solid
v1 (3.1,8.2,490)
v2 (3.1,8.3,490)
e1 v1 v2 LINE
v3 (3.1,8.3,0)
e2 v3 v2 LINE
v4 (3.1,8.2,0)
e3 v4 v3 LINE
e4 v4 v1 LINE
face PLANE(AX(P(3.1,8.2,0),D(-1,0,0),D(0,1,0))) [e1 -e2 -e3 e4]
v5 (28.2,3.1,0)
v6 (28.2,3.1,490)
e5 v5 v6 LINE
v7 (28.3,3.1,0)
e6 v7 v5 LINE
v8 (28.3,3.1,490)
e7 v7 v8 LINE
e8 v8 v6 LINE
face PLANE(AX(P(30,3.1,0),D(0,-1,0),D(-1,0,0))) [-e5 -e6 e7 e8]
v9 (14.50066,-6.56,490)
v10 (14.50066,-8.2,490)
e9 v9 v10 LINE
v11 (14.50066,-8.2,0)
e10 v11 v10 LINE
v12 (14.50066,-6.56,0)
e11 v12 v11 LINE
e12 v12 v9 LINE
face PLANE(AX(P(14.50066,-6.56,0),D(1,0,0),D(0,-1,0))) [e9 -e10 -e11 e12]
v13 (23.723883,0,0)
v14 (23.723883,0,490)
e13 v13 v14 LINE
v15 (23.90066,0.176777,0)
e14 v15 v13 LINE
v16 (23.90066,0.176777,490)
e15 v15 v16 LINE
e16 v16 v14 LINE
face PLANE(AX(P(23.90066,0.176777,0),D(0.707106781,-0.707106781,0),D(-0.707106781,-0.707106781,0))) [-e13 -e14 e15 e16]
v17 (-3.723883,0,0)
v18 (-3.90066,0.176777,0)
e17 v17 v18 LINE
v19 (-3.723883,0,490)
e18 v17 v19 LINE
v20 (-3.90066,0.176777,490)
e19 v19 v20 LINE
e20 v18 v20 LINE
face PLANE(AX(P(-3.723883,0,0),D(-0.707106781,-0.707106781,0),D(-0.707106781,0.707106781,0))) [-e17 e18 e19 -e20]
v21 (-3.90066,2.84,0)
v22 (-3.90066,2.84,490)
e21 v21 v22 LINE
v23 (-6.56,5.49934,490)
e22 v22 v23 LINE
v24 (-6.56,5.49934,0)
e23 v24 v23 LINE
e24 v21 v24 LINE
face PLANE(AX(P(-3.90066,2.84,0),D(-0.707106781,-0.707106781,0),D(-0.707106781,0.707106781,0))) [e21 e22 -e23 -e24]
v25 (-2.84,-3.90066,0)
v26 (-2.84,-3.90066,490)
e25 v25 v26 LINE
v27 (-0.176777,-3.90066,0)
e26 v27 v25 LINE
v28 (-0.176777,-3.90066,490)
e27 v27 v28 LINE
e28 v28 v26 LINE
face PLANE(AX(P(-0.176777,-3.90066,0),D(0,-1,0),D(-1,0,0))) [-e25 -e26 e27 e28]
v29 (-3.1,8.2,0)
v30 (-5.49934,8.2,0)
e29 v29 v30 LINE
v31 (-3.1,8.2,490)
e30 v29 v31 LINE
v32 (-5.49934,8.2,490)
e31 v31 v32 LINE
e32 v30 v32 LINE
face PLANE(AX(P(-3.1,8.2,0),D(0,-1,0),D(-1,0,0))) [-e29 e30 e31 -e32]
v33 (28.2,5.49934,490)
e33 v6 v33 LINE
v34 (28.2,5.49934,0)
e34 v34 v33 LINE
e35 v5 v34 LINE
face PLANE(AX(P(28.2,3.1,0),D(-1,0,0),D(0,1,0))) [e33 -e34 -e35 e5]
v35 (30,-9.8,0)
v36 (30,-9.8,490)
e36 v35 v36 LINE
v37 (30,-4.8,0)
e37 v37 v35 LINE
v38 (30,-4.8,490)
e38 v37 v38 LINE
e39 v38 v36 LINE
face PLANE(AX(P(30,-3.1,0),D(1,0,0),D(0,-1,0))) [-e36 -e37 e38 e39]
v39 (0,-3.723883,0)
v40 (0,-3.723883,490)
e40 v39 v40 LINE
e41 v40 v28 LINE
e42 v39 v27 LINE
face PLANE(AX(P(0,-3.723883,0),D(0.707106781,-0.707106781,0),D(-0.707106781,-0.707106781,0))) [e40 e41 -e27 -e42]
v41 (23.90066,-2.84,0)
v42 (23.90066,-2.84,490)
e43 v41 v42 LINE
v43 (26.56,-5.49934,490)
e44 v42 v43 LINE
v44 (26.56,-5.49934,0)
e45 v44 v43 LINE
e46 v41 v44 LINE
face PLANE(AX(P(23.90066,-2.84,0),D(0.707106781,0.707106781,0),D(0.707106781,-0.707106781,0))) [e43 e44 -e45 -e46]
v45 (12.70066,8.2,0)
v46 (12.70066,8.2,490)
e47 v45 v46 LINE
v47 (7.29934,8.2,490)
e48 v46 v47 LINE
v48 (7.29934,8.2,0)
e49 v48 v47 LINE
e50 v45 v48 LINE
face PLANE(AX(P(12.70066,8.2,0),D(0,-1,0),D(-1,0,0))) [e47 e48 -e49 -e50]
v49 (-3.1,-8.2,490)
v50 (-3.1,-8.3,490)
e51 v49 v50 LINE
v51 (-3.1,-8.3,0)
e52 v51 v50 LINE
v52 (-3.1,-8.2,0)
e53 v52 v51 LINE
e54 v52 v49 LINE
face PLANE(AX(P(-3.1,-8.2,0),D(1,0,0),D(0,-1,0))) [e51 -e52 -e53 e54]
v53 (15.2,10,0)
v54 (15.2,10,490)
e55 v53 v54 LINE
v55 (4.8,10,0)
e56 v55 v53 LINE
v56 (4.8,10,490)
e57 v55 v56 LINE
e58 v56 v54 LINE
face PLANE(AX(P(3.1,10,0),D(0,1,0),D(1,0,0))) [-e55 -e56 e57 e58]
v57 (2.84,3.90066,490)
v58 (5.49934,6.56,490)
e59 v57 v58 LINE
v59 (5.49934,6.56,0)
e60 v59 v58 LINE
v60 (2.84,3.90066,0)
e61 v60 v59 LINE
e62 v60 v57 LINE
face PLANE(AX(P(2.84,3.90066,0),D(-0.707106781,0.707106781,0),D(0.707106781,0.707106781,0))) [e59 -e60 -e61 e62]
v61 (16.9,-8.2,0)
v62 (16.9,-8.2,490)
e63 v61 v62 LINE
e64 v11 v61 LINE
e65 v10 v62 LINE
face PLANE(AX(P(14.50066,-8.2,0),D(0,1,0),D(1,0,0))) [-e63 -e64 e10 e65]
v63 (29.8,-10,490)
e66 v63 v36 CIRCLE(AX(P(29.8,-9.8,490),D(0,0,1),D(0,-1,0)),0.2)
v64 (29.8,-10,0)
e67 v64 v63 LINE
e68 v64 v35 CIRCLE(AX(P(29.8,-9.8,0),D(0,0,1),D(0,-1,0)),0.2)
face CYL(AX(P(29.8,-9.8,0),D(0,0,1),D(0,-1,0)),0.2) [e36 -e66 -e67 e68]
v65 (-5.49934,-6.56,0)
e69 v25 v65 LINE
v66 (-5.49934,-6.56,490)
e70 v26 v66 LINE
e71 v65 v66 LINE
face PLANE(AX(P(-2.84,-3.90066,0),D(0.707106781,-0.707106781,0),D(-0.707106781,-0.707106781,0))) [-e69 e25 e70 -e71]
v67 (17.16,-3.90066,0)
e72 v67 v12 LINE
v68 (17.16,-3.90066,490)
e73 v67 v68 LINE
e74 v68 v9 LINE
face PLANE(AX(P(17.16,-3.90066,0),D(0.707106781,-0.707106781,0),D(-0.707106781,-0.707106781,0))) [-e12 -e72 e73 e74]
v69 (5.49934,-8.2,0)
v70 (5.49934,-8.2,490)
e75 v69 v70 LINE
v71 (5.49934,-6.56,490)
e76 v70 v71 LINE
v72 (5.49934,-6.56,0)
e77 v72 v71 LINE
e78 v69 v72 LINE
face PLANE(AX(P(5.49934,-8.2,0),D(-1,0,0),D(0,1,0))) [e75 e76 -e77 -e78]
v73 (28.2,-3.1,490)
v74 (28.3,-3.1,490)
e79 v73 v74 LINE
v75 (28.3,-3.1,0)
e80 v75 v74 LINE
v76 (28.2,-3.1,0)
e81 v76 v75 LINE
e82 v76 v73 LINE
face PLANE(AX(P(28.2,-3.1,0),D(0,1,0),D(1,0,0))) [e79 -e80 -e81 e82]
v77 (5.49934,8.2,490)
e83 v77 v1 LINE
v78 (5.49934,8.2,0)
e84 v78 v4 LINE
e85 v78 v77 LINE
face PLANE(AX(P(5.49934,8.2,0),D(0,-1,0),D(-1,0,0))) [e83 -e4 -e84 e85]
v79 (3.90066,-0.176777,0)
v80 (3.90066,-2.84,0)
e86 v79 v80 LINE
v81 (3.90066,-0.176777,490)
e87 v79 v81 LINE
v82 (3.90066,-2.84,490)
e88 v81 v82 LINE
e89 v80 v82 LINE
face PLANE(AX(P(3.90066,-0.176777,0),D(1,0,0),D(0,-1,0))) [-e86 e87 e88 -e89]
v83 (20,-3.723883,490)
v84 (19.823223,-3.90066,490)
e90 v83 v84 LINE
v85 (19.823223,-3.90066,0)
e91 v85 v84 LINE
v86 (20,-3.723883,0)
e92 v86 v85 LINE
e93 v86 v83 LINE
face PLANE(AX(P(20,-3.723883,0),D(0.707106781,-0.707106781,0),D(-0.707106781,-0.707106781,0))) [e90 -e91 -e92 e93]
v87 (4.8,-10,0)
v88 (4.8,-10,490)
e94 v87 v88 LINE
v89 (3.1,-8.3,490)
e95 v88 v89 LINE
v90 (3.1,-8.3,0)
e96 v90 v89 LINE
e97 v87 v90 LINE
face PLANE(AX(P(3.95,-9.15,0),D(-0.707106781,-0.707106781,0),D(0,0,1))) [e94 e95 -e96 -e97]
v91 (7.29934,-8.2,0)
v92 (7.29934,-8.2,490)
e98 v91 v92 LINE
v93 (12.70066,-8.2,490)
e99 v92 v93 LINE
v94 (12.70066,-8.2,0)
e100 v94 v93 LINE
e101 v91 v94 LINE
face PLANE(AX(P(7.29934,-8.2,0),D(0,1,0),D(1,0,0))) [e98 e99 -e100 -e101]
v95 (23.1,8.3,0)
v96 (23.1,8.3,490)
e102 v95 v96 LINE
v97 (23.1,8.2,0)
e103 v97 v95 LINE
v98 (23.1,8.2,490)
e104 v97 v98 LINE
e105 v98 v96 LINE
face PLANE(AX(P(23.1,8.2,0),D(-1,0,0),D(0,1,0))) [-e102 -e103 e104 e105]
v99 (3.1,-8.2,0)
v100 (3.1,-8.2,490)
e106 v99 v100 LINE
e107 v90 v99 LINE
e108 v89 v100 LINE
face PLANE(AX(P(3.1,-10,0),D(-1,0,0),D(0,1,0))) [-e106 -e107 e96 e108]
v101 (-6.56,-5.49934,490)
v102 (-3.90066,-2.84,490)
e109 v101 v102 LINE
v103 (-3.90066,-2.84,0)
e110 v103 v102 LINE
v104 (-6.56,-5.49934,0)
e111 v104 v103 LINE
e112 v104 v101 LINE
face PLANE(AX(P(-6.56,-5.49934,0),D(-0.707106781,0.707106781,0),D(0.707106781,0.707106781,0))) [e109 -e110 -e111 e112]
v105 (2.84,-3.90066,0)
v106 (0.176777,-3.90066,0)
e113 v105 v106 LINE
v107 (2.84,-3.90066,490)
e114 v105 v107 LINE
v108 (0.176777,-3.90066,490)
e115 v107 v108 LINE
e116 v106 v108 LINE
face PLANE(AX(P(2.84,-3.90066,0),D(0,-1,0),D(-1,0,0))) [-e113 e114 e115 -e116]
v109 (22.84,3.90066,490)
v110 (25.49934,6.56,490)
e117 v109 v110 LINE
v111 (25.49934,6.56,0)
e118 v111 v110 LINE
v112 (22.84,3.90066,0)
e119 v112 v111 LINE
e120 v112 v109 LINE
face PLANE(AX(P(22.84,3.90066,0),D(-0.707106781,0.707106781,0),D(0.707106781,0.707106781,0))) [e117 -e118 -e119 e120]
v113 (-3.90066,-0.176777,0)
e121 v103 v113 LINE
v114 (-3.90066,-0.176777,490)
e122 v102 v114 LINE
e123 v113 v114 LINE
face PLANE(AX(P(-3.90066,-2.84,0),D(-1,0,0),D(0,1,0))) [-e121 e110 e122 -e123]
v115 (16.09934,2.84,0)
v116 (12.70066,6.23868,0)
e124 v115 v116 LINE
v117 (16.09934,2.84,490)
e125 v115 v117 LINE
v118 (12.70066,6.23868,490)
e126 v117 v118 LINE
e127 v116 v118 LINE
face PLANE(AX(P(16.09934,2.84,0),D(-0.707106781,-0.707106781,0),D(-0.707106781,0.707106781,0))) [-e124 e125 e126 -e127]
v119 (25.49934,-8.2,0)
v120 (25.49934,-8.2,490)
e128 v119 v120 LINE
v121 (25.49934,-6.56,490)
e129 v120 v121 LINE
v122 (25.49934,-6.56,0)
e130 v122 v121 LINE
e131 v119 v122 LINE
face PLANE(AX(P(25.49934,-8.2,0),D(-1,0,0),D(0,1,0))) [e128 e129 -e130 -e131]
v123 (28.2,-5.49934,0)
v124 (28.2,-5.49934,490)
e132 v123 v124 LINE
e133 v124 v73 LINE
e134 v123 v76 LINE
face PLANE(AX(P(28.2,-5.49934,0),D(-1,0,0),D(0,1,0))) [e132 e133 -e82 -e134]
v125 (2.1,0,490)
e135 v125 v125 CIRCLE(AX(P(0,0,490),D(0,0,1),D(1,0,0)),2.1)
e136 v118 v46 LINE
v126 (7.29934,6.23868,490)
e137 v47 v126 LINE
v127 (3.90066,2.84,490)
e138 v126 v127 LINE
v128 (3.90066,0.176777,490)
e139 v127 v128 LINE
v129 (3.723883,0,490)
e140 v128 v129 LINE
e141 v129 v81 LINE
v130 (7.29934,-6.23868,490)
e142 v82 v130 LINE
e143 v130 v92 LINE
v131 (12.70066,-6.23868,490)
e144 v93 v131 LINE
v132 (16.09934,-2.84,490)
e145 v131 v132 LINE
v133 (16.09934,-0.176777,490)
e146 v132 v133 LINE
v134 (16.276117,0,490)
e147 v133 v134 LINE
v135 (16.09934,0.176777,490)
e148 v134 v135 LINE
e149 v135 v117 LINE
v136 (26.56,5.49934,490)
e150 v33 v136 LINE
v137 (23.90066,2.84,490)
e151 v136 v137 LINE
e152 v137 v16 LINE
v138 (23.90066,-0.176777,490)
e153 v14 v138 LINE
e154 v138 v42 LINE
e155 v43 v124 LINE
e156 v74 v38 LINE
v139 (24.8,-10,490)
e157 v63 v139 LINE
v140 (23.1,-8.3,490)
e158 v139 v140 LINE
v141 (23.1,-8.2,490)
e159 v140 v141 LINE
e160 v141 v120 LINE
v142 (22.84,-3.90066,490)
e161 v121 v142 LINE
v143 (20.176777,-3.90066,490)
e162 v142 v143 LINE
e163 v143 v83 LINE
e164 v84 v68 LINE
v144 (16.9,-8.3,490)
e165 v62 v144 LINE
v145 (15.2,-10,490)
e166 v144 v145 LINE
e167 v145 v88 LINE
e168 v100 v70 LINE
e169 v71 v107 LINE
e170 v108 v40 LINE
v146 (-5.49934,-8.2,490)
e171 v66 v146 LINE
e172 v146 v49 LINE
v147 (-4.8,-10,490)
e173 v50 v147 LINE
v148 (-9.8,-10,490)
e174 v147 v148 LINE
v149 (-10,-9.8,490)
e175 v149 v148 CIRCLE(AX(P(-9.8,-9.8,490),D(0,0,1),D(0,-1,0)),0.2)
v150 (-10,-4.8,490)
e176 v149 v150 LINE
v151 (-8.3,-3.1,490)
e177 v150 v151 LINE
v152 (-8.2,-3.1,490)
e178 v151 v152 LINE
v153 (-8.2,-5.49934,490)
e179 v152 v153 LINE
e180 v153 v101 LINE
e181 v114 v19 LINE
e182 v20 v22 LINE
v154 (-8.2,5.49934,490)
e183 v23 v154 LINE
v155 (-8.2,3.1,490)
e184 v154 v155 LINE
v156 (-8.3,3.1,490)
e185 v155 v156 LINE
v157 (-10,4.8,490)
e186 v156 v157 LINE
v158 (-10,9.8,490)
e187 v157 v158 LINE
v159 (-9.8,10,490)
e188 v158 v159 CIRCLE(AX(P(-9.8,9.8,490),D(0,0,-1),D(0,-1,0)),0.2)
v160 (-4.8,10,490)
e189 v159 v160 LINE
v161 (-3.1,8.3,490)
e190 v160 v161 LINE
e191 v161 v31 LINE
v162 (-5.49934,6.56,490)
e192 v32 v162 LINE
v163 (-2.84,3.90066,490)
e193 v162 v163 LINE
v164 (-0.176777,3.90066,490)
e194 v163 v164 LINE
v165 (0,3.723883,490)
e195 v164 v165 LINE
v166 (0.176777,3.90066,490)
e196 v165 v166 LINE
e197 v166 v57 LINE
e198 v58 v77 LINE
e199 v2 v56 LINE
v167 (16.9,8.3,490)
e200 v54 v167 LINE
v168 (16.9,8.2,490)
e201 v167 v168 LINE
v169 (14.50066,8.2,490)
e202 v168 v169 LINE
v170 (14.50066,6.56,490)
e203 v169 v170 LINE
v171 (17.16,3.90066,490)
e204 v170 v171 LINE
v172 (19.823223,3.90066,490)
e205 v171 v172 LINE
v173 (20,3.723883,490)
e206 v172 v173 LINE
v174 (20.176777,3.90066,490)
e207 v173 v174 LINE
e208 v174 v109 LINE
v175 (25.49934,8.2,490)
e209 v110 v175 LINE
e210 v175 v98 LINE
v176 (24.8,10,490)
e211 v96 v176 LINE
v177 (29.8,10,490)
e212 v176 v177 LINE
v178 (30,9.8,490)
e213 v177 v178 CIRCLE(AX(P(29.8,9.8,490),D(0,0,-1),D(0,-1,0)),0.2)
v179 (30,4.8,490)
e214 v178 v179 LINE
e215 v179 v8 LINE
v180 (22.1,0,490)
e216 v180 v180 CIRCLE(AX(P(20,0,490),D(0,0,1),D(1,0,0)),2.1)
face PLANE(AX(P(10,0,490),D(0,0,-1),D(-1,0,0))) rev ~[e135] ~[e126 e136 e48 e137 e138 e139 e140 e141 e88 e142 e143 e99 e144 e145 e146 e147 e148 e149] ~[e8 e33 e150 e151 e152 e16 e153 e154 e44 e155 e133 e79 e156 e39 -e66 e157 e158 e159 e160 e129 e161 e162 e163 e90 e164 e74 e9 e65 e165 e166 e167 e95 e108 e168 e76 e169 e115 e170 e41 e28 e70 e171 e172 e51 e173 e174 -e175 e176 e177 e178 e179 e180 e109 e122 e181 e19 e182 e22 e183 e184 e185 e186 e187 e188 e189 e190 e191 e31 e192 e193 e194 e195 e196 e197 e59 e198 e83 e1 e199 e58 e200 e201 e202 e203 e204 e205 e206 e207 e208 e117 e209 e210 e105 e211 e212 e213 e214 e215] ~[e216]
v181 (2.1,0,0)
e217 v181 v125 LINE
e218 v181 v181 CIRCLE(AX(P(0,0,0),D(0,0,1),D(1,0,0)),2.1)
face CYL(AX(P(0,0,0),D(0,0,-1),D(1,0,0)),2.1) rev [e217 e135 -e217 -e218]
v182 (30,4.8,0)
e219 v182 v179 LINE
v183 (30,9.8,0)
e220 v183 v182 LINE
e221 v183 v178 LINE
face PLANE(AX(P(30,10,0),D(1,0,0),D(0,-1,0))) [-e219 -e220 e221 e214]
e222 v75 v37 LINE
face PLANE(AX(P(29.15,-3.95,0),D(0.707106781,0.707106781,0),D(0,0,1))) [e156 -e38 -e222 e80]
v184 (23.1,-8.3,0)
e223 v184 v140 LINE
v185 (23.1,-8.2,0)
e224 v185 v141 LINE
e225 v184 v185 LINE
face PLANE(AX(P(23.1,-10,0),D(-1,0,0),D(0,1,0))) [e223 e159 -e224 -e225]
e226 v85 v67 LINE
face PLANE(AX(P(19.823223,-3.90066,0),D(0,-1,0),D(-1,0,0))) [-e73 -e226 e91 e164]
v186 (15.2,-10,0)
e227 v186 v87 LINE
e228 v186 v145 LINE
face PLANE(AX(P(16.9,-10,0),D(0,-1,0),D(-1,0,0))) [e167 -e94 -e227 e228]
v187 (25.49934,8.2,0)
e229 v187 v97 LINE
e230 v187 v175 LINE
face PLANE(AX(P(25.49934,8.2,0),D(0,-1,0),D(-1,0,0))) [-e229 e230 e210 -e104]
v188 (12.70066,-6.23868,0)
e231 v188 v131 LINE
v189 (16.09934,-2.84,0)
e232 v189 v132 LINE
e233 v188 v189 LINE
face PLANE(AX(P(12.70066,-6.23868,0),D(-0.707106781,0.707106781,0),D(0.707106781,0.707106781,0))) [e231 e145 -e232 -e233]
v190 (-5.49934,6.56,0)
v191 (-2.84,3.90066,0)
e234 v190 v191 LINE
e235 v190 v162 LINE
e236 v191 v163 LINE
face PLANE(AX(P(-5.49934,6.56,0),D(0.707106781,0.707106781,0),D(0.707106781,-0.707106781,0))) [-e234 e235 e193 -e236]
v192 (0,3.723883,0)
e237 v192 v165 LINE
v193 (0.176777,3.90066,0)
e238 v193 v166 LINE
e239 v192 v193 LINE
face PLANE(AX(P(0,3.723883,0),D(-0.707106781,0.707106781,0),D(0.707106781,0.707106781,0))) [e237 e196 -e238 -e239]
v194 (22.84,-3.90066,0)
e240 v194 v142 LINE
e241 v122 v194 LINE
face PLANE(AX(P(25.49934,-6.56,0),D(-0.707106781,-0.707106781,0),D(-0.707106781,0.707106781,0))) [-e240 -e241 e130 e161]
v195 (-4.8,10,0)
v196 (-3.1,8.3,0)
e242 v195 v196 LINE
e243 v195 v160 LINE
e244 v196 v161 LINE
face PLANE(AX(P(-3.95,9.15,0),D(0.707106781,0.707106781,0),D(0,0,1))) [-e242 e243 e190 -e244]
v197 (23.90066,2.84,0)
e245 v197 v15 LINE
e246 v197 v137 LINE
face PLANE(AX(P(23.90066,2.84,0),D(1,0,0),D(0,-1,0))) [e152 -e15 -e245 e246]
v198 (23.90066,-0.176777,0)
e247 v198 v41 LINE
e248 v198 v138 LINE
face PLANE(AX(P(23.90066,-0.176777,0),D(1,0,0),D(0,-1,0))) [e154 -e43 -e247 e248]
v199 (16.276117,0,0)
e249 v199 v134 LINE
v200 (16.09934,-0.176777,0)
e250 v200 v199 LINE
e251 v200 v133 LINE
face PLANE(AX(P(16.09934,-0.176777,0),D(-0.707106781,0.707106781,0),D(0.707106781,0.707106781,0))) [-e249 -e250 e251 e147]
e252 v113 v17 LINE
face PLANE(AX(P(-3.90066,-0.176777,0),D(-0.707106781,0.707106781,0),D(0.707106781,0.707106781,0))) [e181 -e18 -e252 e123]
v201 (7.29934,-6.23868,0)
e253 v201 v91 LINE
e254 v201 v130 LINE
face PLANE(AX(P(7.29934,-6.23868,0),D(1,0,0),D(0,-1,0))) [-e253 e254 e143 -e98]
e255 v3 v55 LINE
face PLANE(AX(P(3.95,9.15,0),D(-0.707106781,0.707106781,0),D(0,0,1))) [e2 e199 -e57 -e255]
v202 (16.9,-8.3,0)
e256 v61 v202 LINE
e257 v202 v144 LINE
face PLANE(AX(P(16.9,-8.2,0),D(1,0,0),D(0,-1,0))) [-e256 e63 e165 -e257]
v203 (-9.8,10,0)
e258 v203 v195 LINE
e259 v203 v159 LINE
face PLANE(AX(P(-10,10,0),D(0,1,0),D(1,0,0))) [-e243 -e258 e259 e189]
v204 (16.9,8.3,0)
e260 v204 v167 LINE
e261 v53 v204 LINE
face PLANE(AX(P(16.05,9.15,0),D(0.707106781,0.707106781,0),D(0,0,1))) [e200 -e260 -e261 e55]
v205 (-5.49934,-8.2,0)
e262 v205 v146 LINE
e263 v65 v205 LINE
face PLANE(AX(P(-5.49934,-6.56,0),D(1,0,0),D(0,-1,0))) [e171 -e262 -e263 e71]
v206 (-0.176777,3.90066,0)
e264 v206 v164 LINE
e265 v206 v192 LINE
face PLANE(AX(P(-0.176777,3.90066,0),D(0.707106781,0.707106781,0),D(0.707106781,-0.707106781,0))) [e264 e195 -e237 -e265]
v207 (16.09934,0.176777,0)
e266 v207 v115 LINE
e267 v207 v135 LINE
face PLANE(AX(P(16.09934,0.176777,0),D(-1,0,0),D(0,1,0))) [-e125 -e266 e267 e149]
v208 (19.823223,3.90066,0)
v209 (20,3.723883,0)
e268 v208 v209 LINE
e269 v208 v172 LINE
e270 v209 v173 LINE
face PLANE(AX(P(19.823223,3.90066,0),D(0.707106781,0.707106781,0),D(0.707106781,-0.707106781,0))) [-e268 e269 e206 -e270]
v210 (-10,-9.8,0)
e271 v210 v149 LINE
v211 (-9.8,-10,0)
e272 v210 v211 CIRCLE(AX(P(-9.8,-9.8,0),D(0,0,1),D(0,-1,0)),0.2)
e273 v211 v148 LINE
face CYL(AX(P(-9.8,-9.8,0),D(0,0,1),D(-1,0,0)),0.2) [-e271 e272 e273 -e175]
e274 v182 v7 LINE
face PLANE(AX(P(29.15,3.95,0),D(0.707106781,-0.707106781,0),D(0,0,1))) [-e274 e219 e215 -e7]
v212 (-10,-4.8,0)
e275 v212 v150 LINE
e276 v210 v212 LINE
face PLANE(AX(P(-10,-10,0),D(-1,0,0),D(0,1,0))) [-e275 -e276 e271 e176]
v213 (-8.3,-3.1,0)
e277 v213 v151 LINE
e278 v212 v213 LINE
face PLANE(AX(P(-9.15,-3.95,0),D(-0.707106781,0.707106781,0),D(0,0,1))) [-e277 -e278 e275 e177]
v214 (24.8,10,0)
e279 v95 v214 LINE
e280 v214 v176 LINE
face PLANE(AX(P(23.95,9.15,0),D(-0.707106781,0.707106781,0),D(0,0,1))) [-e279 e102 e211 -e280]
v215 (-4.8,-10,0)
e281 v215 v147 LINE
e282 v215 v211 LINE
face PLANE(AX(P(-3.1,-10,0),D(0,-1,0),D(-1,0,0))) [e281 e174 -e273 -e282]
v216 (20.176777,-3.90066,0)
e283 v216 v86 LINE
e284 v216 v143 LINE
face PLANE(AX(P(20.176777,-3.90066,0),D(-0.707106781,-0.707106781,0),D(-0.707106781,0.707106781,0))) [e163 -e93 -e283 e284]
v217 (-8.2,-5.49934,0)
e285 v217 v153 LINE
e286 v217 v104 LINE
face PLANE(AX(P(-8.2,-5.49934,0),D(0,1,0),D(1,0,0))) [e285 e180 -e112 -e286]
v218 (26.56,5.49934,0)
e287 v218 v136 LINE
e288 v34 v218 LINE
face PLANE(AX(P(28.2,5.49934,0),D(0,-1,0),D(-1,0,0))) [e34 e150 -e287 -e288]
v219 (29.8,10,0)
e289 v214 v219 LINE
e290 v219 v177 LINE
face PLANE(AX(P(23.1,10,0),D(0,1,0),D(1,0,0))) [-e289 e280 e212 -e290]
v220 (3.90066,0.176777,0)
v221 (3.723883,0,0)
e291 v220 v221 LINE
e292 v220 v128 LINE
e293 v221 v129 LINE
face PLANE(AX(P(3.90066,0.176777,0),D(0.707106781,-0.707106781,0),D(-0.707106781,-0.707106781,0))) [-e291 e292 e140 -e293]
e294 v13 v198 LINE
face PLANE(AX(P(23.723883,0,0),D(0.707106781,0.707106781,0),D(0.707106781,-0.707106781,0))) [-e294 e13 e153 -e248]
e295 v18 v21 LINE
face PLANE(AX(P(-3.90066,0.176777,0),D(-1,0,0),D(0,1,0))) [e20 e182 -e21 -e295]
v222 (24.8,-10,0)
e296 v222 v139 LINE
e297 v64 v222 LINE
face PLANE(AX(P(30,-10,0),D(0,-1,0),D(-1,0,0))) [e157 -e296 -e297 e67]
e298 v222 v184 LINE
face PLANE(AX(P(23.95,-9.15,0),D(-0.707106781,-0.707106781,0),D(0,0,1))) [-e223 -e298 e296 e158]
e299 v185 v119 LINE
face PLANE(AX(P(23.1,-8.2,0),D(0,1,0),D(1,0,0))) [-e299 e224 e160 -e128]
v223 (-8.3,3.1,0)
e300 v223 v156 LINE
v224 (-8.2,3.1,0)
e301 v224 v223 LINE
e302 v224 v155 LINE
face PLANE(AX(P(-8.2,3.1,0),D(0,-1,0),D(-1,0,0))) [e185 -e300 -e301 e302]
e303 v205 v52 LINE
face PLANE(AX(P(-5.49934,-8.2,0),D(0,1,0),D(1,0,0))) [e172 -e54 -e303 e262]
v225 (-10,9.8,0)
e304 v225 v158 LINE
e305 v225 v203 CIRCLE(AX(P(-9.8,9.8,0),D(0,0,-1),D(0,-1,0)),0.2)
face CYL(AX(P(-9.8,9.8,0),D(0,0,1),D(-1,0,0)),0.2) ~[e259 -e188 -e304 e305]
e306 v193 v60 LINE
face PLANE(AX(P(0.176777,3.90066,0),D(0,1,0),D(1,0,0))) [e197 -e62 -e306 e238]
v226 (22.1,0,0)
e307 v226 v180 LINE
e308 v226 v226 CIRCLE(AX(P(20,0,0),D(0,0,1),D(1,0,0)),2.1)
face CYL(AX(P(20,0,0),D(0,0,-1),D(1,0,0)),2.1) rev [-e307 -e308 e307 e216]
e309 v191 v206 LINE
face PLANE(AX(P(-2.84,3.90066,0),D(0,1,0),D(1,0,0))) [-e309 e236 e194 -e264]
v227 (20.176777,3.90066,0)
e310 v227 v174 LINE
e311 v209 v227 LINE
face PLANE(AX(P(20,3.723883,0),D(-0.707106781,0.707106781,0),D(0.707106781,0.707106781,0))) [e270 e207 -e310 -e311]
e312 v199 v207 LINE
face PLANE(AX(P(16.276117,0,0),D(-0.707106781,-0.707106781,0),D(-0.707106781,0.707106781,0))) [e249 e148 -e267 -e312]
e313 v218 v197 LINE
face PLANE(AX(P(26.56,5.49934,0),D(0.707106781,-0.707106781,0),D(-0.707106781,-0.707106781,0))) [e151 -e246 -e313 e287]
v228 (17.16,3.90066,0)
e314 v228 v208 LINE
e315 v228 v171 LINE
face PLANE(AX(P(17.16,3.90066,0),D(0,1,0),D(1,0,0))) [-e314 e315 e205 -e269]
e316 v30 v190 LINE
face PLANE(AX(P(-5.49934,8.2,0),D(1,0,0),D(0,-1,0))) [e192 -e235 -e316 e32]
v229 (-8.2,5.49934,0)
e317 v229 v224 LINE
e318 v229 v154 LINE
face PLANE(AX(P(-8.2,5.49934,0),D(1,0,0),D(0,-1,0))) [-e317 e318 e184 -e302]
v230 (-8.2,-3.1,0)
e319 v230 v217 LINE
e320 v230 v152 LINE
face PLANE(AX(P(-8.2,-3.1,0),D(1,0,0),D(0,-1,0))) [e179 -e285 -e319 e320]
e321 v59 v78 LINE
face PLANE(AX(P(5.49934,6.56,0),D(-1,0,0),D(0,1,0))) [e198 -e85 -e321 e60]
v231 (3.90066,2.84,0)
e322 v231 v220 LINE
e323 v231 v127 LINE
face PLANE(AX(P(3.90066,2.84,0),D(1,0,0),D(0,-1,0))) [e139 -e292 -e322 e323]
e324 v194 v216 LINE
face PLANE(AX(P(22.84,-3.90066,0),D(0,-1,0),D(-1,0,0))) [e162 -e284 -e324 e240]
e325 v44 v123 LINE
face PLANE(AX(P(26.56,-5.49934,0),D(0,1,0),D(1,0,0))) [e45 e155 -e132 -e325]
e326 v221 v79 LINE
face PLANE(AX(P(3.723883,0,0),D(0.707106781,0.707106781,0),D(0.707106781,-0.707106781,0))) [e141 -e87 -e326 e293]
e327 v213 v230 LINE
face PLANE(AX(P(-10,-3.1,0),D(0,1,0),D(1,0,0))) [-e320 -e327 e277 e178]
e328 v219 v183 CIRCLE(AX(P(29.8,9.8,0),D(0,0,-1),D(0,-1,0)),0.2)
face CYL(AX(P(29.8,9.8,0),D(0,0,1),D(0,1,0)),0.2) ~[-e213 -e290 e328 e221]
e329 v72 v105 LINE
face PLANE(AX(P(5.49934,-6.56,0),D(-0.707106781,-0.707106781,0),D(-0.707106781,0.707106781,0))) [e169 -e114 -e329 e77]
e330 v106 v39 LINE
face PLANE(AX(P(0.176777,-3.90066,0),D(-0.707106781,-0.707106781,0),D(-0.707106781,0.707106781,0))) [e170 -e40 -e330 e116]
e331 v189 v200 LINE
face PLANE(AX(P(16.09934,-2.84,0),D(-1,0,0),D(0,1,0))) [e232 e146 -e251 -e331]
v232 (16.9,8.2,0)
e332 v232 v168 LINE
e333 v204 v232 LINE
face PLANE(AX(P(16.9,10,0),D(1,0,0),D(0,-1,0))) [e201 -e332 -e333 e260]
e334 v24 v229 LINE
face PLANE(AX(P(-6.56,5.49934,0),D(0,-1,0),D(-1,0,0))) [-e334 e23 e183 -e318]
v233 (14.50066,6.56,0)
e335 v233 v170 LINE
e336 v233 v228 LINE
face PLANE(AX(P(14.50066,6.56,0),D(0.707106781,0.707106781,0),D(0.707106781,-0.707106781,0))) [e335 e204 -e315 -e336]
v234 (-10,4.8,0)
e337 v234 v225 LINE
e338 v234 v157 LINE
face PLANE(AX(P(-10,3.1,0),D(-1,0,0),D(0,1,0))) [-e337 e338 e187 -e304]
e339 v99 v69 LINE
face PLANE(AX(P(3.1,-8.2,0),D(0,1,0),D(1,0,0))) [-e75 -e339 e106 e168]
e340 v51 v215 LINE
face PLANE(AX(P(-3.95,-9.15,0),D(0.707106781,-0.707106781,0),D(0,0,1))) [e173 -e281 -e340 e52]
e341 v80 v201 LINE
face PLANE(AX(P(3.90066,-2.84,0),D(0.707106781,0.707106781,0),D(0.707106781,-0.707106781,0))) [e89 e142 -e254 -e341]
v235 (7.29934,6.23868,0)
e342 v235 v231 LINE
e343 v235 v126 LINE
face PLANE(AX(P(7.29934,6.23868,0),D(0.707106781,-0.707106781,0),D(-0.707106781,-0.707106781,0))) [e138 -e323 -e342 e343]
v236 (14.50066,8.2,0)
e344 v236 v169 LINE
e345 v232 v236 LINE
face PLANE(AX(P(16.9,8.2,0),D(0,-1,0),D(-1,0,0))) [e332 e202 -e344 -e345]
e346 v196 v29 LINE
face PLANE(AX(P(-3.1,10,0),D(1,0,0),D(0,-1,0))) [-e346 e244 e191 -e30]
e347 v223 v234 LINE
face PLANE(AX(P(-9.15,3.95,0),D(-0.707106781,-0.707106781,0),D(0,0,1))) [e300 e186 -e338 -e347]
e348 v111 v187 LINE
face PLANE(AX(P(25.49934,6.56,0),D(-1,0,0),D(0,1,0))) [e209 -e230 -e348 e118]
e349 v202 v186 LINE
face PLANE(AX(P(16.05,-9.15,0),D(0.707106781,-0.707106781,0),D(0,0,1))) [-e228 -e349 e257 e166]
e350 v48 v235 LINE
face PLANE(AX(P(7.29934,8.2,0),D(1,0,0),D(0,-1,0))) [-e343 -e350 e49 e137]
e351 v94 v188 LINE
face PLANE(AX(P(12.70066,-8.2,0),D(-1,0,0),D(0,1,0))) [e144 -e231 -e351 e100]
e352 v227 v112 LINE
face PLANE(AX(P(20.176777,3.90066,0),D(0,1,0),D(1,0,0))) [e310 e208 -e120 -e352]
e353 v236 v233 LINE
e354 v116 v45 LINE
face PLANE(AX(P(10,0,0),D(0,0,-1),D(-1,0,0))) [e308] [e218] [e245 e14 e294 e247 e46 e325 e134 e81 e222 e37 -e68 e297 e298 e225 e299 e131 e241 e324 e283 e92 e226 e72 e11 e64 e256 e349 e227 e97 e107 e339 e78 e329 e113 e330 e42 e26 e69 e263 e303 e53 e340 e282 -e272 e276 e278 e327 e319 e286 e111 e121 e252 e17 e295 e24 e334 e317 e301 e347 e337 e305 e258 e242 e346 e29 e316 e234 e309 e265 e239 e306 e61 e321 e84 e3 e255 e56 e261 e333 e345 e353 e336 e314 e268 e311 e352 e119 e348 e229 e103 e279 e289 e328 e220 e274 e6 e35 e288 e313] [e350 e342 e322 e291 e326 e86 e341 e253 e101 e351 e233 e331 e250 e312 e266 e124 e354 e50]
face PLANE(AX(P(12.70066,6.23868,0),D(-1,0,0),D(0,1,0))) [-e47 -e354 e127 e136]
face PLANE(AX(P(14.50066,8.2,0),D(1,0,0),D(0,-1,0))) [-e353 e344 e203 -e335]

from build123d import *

# Parameters (mm, degrees)
SKETCH003_R         = 2.1
PAD003_DEPTH        = 490
CHAMFER003_1_ANGLE  = 45
CHAMFER003_1_SIZE   = 1.7
CHAMFER003_2_ANGLE  = 45
CHAMFER003_2_SIZE   = 1.7
CHAMFER003_3_ANGLE  = 45
CHAMFER003_3_SIZE   = 1.7
CHAMFER003_4_ANGLE  = 45
CHAMFER003_4_SIZE   = 1.7
CHAMFER003_5_ANGLE  = 45
CHAMFER003_5_SIZE   = 1.7
CHAMFER003_6_ANGLE  = 45
CHAMFER003_6_SIZE   = 1.7
CHAMFER003_7_ANGLE  = 45
CHAMFER003_7_SIZE   = 1.7
CHAMFER003_8_ANGLE  = 45
CHAMFER003_8_SIZE   = 1.7
CHAMFER003_9_ANGLE  = 45
CHAMFER003_9_SIZE   = 1.7
CHAMFER003_10_ANGLE = 45
CHAMFER003_10_SIZE  = 1.7
CHAMFER003_11_ANGLE = 45
CHAMFER003_11_SIZE  = 1.7
CHAMFER003_12_ANGLE = 45
CHAMFER003_12_SIZE  = 1.7
FILLET003_R         = 0.2


with BuildPart() as part:
    # Sketch003 → Pad003 (new body)
    with BuildSketch(Plane.XY):
        Polygon((0, 3.723883), (0.176777, 3.90066), (2.84, 3.90066), (5.49934, 6.56), (5.49934, 8.2), (3.1, 8.2), (3.1, 10), (16.9, 10), (16.9, 8.2), (14.50066, 8.2), (14.50066, 6.56), (17.16, 3.90066), (19.823223, 3.90066), (20, 3.723883), (20.176777, 3.90066), (22.84, 3.90066), (25.49934, 6.56), (25.49934, 8.2), (23.1, 8.2), (23.1, 10), (30, 10), (30, 3.1), (28.2, 3.1), (28.2, 5.49934), (26.56, 5.49934), (23.90066, 2.84), (23.90066, 0.176777), (23.723883, 0), (23.90066, -0.176777), (23.90066, -2.84), (26.56, -5.49934), (28.2, -5.49934), (28.2, -3.1), (30, -3.1), (30, -10), (23.1, -10), (23.1, -8.2), (25.49934, -8.2), (25.49934, -6.56), (22.84, -3.90066), (20.176777, -3.90066), (20, -3.723883), (19.823223, -3.90066), (17.16, -3.90066), (14.50066, -6.56), (14.50066, -8.2), (16.9, -8.2), (16.9, -10), (3.1, -10), (3.1, -8.2), (5.49934, -8.2), (5.49934, -6.56), (2.84, -3.90066), (0.176777, -3.90066), (0, -3.723883), (-0.176777, -3.90066), (-2.84, -3.90066), (-5.49934, -6.56), (-5.49934, -8.2), (-3.1, -8.2), (-3.1, -10), (-10, -10), (-10, -3.1), (-8.2, -3.1), (-8.2, -5.49934), (-6.56, -5.49934), (-3.90066, -2.84), (-3.90066, -0.176777), (-3.723883, 0), (-3.90066, 0.176777), (-3.90066, 2.84), (-6.56, 5.49934), (-8.2, 5.49934), (-8.2, 3.1), (-10, 3.1), (-10, 10), (-3.1, 10), (-3.1, 8.2), (-5.49934, 8.2), (-5.49934, 6.56), (-2.84, 3.90066), (-0.176777, 3.90066), align=None)
        Circle(SKETCH003_R, mode=Mode.SUBTRACT)
        with Locations((20, 0)):
            Circle(SKETCH003_R, mode=Mode.SUBTRACT)
        Polygon((7.29934, 6.23868), (3.90066, 2.84), (3.90066, 0.176777), (3.723883, 0), (3.90066, -0.176777), (3.90066, -2.84), (7.29934, -6.23868), (7.29934, -8.2), (12.70066, -8.2), (12.70066, -6.23868), (16.09934, -2.84), (16.09934, -0.176777), (16.276117, 0), (16.09934, 0.176777), (16.09934, 2.84), (12.70066, 6.23868), (12.70066, 8.2), (7.29934, 8.2), align=None, mode=Mode.SUBTRACT)
    extrude(amount=PAD003_DEPTH)

    # Chamfer003 1
    chamfer003_1_edges = [part.edges().sort_by_distance(p)[0] for p in [
        (3.1, -10, 245),
    ]]
    chamfer003_1_side = part.faces().sort_by_distance((10, -10, 245))[0]
    chamfer(chamfer003_1_edges, length=CHAMFER003_1_SIZE, angle=CHAMFER003_1_ANGLE, reference=chamfer003_1_side)

    # Chamfer003 2
    chamfer003_2_edges = [part.edges().sort_by_distance(p)[0] for p in [
        (16.9, -10, 245),
    ]]
    chamfer003_2_side = part.faces().sort_by_distance((16.9, -9.1, 245))[0]
    chamfer(chamfer003_2_edges, length=CHAMFER003_2_SIZE, angle=CHAMFER003_2_ANGLE, reference=chamfer003_2_side)

    # Chamfer003 3
    chamfer003_3_edges = [part.edges().sort_by_distance(p)[0] for p in [
        (23.1, -10, 245),
    ]]
    chamfer003_3_side = part.faces().sort_by_distance((26.55, -10, 245))[0]
    chamfer(chamfer003_3_edges, length=CHAMFER003_3_SIZE, angle=CHAMFER003_3_ANGLE, reference=chamfer003_3_side)

    # Chamfer003 4
    chamfer003_4_edges = [part.edges().sort_by_distance(p)[0] for p in [
        (-3.1, -10, 245),
    ]]
    chamfer003_4_side = part.faces().sort_by_distance((-3.1, -9.1, 245))[0]
    chamfer(chamfer003_4_edges, length=CHAMFER003_4_SIZE, angle=CHAMFER003_4_ANGLE, reference=chamfer003_4_side)

    # Chamfer003 5
    chamfer003_5_edges = [part.edges().sort_by_distance(p)[0] for p in [
        (30, -3.1, 245),
    ]]
    chamfer003_5_side = part.faces().sort_by_distance((29.1, -3.1, 245))[0]
    chamfer(chamfer003_5_edges, length=CHAMFER003_5_SIZE, angle=CHAMFER003_5_ANGLE, reference=chamfer003_5_side)

    # Chamfer003 6
    chamfer003_6_edges = [part.edges().sort_by_distance(p)[0] for p in [
        (30, 3.1, 245),
    ]]
    chamfer003_6_side = part.faces().sort_by_distance((30, 6.55, 245))[0]
    chamfer(chamfer003_6_edges, length=CHAMFER003_6_SIZE, angle=CHAMFER003_6_ANGLE, reference=chamfer003_6_side)

    # Chamfer003 7
    chamfer003_7_edges = [part.edges().sort_by_distance(p)[0] for p in [
        (23.1, 10, 245),
    ]]
    chamfer003_7_side = part.faces().sort_by_distance((23.1, 9.1, 245))[0]
    chamfer(chamfer003_7_edges, length=CHAMFER003_7_SIZE, angle=CHAMFER003_7_ANGLE, reference=chamfer003_7_side)

    # Chamfer003 8
    chamfer003_8_edges = [part.edges().sort_by_distance(p)[0] for p in [
        (16.9, 10, 245),
    ]]
    chamfer003_8_side = part.faces().sort_by_distance((10, 10, 245))[0]
    chamfer(chamfer003_8_edges, length=CHAMFER003_8_SIZE, angle=CHAMFER003_8_ANGLE, reference=chamfer003_8_side)

    # Chamfer003 9
    chamfer003_9_edges = [part.edges().sort_by_distance(p)[0] for p in [
        (3.1, 10, 245),
    ]]
    chamfer003_9_side = part.faces().sort_by_distance((3.1, 9.1, 245))[0]
    chamfer(chamfer003_9_edges, length=CHAMFER003_9_SIZE, angle=CHAMFER003_9_ANGLE, reference=chamfer003_9_side)

    # Chamfer003 10
    chamfer003_10_edges = [part.edges().sort_by_distance(p)[0] for p in [
        (-3.1, 10, 245),
    ]]
    chamfer003_10_side = part.faces().sort_by_distance((-6.55, 10, 245))[0]
    chamfer(chamfer003_10_edges, length=CHAMFER003_10_SIZE, angle=CHAMFER003_10_ANGLE, reference=chamfer003_10_side)

    # Chamfer003 11
    chamfer003_11_edges = [part.edges().sort_by_distance(p)[0] for p in [
        (-10, -3.1, 245),
    ]]
    chamfer003_11_side = part.faces().sort_by_distance((-10, -6.55, 245))[0]
    chamfer(chamfer003_11_edges, length=CHAMFER003_11_SIZE, angle=CHAMFER003_11_ANGLE, reference=chamfer003_11_side)

    # Chamfer003 12
    chamfer003_12_edges = [part.edges().sort_by_distance(p)[0] for p in [
        (-10, 3.1, 245),
    ]]
    chamfer003_12_side = part.faces().sort_by_distance((-9.1, 3.1, 245))[0]
    chamfer(chamfer003_12_edges, length=CHAMFER003_12_SIZE, angle=CHAMFER003_12_ANGLE, reference=chamfer003_12_side)

    # Fillet003
    fillet003_edges = [part.edges().sort_by_distance(p)[0] for p in [
        (-10, -10, 245),
        (-10, 10, 245),
        (30, 10, 245),
        (30, -10, 245),
    ]]
    fillet(fillet003_edges, radius=FILLET003_R)


solid = part.part
